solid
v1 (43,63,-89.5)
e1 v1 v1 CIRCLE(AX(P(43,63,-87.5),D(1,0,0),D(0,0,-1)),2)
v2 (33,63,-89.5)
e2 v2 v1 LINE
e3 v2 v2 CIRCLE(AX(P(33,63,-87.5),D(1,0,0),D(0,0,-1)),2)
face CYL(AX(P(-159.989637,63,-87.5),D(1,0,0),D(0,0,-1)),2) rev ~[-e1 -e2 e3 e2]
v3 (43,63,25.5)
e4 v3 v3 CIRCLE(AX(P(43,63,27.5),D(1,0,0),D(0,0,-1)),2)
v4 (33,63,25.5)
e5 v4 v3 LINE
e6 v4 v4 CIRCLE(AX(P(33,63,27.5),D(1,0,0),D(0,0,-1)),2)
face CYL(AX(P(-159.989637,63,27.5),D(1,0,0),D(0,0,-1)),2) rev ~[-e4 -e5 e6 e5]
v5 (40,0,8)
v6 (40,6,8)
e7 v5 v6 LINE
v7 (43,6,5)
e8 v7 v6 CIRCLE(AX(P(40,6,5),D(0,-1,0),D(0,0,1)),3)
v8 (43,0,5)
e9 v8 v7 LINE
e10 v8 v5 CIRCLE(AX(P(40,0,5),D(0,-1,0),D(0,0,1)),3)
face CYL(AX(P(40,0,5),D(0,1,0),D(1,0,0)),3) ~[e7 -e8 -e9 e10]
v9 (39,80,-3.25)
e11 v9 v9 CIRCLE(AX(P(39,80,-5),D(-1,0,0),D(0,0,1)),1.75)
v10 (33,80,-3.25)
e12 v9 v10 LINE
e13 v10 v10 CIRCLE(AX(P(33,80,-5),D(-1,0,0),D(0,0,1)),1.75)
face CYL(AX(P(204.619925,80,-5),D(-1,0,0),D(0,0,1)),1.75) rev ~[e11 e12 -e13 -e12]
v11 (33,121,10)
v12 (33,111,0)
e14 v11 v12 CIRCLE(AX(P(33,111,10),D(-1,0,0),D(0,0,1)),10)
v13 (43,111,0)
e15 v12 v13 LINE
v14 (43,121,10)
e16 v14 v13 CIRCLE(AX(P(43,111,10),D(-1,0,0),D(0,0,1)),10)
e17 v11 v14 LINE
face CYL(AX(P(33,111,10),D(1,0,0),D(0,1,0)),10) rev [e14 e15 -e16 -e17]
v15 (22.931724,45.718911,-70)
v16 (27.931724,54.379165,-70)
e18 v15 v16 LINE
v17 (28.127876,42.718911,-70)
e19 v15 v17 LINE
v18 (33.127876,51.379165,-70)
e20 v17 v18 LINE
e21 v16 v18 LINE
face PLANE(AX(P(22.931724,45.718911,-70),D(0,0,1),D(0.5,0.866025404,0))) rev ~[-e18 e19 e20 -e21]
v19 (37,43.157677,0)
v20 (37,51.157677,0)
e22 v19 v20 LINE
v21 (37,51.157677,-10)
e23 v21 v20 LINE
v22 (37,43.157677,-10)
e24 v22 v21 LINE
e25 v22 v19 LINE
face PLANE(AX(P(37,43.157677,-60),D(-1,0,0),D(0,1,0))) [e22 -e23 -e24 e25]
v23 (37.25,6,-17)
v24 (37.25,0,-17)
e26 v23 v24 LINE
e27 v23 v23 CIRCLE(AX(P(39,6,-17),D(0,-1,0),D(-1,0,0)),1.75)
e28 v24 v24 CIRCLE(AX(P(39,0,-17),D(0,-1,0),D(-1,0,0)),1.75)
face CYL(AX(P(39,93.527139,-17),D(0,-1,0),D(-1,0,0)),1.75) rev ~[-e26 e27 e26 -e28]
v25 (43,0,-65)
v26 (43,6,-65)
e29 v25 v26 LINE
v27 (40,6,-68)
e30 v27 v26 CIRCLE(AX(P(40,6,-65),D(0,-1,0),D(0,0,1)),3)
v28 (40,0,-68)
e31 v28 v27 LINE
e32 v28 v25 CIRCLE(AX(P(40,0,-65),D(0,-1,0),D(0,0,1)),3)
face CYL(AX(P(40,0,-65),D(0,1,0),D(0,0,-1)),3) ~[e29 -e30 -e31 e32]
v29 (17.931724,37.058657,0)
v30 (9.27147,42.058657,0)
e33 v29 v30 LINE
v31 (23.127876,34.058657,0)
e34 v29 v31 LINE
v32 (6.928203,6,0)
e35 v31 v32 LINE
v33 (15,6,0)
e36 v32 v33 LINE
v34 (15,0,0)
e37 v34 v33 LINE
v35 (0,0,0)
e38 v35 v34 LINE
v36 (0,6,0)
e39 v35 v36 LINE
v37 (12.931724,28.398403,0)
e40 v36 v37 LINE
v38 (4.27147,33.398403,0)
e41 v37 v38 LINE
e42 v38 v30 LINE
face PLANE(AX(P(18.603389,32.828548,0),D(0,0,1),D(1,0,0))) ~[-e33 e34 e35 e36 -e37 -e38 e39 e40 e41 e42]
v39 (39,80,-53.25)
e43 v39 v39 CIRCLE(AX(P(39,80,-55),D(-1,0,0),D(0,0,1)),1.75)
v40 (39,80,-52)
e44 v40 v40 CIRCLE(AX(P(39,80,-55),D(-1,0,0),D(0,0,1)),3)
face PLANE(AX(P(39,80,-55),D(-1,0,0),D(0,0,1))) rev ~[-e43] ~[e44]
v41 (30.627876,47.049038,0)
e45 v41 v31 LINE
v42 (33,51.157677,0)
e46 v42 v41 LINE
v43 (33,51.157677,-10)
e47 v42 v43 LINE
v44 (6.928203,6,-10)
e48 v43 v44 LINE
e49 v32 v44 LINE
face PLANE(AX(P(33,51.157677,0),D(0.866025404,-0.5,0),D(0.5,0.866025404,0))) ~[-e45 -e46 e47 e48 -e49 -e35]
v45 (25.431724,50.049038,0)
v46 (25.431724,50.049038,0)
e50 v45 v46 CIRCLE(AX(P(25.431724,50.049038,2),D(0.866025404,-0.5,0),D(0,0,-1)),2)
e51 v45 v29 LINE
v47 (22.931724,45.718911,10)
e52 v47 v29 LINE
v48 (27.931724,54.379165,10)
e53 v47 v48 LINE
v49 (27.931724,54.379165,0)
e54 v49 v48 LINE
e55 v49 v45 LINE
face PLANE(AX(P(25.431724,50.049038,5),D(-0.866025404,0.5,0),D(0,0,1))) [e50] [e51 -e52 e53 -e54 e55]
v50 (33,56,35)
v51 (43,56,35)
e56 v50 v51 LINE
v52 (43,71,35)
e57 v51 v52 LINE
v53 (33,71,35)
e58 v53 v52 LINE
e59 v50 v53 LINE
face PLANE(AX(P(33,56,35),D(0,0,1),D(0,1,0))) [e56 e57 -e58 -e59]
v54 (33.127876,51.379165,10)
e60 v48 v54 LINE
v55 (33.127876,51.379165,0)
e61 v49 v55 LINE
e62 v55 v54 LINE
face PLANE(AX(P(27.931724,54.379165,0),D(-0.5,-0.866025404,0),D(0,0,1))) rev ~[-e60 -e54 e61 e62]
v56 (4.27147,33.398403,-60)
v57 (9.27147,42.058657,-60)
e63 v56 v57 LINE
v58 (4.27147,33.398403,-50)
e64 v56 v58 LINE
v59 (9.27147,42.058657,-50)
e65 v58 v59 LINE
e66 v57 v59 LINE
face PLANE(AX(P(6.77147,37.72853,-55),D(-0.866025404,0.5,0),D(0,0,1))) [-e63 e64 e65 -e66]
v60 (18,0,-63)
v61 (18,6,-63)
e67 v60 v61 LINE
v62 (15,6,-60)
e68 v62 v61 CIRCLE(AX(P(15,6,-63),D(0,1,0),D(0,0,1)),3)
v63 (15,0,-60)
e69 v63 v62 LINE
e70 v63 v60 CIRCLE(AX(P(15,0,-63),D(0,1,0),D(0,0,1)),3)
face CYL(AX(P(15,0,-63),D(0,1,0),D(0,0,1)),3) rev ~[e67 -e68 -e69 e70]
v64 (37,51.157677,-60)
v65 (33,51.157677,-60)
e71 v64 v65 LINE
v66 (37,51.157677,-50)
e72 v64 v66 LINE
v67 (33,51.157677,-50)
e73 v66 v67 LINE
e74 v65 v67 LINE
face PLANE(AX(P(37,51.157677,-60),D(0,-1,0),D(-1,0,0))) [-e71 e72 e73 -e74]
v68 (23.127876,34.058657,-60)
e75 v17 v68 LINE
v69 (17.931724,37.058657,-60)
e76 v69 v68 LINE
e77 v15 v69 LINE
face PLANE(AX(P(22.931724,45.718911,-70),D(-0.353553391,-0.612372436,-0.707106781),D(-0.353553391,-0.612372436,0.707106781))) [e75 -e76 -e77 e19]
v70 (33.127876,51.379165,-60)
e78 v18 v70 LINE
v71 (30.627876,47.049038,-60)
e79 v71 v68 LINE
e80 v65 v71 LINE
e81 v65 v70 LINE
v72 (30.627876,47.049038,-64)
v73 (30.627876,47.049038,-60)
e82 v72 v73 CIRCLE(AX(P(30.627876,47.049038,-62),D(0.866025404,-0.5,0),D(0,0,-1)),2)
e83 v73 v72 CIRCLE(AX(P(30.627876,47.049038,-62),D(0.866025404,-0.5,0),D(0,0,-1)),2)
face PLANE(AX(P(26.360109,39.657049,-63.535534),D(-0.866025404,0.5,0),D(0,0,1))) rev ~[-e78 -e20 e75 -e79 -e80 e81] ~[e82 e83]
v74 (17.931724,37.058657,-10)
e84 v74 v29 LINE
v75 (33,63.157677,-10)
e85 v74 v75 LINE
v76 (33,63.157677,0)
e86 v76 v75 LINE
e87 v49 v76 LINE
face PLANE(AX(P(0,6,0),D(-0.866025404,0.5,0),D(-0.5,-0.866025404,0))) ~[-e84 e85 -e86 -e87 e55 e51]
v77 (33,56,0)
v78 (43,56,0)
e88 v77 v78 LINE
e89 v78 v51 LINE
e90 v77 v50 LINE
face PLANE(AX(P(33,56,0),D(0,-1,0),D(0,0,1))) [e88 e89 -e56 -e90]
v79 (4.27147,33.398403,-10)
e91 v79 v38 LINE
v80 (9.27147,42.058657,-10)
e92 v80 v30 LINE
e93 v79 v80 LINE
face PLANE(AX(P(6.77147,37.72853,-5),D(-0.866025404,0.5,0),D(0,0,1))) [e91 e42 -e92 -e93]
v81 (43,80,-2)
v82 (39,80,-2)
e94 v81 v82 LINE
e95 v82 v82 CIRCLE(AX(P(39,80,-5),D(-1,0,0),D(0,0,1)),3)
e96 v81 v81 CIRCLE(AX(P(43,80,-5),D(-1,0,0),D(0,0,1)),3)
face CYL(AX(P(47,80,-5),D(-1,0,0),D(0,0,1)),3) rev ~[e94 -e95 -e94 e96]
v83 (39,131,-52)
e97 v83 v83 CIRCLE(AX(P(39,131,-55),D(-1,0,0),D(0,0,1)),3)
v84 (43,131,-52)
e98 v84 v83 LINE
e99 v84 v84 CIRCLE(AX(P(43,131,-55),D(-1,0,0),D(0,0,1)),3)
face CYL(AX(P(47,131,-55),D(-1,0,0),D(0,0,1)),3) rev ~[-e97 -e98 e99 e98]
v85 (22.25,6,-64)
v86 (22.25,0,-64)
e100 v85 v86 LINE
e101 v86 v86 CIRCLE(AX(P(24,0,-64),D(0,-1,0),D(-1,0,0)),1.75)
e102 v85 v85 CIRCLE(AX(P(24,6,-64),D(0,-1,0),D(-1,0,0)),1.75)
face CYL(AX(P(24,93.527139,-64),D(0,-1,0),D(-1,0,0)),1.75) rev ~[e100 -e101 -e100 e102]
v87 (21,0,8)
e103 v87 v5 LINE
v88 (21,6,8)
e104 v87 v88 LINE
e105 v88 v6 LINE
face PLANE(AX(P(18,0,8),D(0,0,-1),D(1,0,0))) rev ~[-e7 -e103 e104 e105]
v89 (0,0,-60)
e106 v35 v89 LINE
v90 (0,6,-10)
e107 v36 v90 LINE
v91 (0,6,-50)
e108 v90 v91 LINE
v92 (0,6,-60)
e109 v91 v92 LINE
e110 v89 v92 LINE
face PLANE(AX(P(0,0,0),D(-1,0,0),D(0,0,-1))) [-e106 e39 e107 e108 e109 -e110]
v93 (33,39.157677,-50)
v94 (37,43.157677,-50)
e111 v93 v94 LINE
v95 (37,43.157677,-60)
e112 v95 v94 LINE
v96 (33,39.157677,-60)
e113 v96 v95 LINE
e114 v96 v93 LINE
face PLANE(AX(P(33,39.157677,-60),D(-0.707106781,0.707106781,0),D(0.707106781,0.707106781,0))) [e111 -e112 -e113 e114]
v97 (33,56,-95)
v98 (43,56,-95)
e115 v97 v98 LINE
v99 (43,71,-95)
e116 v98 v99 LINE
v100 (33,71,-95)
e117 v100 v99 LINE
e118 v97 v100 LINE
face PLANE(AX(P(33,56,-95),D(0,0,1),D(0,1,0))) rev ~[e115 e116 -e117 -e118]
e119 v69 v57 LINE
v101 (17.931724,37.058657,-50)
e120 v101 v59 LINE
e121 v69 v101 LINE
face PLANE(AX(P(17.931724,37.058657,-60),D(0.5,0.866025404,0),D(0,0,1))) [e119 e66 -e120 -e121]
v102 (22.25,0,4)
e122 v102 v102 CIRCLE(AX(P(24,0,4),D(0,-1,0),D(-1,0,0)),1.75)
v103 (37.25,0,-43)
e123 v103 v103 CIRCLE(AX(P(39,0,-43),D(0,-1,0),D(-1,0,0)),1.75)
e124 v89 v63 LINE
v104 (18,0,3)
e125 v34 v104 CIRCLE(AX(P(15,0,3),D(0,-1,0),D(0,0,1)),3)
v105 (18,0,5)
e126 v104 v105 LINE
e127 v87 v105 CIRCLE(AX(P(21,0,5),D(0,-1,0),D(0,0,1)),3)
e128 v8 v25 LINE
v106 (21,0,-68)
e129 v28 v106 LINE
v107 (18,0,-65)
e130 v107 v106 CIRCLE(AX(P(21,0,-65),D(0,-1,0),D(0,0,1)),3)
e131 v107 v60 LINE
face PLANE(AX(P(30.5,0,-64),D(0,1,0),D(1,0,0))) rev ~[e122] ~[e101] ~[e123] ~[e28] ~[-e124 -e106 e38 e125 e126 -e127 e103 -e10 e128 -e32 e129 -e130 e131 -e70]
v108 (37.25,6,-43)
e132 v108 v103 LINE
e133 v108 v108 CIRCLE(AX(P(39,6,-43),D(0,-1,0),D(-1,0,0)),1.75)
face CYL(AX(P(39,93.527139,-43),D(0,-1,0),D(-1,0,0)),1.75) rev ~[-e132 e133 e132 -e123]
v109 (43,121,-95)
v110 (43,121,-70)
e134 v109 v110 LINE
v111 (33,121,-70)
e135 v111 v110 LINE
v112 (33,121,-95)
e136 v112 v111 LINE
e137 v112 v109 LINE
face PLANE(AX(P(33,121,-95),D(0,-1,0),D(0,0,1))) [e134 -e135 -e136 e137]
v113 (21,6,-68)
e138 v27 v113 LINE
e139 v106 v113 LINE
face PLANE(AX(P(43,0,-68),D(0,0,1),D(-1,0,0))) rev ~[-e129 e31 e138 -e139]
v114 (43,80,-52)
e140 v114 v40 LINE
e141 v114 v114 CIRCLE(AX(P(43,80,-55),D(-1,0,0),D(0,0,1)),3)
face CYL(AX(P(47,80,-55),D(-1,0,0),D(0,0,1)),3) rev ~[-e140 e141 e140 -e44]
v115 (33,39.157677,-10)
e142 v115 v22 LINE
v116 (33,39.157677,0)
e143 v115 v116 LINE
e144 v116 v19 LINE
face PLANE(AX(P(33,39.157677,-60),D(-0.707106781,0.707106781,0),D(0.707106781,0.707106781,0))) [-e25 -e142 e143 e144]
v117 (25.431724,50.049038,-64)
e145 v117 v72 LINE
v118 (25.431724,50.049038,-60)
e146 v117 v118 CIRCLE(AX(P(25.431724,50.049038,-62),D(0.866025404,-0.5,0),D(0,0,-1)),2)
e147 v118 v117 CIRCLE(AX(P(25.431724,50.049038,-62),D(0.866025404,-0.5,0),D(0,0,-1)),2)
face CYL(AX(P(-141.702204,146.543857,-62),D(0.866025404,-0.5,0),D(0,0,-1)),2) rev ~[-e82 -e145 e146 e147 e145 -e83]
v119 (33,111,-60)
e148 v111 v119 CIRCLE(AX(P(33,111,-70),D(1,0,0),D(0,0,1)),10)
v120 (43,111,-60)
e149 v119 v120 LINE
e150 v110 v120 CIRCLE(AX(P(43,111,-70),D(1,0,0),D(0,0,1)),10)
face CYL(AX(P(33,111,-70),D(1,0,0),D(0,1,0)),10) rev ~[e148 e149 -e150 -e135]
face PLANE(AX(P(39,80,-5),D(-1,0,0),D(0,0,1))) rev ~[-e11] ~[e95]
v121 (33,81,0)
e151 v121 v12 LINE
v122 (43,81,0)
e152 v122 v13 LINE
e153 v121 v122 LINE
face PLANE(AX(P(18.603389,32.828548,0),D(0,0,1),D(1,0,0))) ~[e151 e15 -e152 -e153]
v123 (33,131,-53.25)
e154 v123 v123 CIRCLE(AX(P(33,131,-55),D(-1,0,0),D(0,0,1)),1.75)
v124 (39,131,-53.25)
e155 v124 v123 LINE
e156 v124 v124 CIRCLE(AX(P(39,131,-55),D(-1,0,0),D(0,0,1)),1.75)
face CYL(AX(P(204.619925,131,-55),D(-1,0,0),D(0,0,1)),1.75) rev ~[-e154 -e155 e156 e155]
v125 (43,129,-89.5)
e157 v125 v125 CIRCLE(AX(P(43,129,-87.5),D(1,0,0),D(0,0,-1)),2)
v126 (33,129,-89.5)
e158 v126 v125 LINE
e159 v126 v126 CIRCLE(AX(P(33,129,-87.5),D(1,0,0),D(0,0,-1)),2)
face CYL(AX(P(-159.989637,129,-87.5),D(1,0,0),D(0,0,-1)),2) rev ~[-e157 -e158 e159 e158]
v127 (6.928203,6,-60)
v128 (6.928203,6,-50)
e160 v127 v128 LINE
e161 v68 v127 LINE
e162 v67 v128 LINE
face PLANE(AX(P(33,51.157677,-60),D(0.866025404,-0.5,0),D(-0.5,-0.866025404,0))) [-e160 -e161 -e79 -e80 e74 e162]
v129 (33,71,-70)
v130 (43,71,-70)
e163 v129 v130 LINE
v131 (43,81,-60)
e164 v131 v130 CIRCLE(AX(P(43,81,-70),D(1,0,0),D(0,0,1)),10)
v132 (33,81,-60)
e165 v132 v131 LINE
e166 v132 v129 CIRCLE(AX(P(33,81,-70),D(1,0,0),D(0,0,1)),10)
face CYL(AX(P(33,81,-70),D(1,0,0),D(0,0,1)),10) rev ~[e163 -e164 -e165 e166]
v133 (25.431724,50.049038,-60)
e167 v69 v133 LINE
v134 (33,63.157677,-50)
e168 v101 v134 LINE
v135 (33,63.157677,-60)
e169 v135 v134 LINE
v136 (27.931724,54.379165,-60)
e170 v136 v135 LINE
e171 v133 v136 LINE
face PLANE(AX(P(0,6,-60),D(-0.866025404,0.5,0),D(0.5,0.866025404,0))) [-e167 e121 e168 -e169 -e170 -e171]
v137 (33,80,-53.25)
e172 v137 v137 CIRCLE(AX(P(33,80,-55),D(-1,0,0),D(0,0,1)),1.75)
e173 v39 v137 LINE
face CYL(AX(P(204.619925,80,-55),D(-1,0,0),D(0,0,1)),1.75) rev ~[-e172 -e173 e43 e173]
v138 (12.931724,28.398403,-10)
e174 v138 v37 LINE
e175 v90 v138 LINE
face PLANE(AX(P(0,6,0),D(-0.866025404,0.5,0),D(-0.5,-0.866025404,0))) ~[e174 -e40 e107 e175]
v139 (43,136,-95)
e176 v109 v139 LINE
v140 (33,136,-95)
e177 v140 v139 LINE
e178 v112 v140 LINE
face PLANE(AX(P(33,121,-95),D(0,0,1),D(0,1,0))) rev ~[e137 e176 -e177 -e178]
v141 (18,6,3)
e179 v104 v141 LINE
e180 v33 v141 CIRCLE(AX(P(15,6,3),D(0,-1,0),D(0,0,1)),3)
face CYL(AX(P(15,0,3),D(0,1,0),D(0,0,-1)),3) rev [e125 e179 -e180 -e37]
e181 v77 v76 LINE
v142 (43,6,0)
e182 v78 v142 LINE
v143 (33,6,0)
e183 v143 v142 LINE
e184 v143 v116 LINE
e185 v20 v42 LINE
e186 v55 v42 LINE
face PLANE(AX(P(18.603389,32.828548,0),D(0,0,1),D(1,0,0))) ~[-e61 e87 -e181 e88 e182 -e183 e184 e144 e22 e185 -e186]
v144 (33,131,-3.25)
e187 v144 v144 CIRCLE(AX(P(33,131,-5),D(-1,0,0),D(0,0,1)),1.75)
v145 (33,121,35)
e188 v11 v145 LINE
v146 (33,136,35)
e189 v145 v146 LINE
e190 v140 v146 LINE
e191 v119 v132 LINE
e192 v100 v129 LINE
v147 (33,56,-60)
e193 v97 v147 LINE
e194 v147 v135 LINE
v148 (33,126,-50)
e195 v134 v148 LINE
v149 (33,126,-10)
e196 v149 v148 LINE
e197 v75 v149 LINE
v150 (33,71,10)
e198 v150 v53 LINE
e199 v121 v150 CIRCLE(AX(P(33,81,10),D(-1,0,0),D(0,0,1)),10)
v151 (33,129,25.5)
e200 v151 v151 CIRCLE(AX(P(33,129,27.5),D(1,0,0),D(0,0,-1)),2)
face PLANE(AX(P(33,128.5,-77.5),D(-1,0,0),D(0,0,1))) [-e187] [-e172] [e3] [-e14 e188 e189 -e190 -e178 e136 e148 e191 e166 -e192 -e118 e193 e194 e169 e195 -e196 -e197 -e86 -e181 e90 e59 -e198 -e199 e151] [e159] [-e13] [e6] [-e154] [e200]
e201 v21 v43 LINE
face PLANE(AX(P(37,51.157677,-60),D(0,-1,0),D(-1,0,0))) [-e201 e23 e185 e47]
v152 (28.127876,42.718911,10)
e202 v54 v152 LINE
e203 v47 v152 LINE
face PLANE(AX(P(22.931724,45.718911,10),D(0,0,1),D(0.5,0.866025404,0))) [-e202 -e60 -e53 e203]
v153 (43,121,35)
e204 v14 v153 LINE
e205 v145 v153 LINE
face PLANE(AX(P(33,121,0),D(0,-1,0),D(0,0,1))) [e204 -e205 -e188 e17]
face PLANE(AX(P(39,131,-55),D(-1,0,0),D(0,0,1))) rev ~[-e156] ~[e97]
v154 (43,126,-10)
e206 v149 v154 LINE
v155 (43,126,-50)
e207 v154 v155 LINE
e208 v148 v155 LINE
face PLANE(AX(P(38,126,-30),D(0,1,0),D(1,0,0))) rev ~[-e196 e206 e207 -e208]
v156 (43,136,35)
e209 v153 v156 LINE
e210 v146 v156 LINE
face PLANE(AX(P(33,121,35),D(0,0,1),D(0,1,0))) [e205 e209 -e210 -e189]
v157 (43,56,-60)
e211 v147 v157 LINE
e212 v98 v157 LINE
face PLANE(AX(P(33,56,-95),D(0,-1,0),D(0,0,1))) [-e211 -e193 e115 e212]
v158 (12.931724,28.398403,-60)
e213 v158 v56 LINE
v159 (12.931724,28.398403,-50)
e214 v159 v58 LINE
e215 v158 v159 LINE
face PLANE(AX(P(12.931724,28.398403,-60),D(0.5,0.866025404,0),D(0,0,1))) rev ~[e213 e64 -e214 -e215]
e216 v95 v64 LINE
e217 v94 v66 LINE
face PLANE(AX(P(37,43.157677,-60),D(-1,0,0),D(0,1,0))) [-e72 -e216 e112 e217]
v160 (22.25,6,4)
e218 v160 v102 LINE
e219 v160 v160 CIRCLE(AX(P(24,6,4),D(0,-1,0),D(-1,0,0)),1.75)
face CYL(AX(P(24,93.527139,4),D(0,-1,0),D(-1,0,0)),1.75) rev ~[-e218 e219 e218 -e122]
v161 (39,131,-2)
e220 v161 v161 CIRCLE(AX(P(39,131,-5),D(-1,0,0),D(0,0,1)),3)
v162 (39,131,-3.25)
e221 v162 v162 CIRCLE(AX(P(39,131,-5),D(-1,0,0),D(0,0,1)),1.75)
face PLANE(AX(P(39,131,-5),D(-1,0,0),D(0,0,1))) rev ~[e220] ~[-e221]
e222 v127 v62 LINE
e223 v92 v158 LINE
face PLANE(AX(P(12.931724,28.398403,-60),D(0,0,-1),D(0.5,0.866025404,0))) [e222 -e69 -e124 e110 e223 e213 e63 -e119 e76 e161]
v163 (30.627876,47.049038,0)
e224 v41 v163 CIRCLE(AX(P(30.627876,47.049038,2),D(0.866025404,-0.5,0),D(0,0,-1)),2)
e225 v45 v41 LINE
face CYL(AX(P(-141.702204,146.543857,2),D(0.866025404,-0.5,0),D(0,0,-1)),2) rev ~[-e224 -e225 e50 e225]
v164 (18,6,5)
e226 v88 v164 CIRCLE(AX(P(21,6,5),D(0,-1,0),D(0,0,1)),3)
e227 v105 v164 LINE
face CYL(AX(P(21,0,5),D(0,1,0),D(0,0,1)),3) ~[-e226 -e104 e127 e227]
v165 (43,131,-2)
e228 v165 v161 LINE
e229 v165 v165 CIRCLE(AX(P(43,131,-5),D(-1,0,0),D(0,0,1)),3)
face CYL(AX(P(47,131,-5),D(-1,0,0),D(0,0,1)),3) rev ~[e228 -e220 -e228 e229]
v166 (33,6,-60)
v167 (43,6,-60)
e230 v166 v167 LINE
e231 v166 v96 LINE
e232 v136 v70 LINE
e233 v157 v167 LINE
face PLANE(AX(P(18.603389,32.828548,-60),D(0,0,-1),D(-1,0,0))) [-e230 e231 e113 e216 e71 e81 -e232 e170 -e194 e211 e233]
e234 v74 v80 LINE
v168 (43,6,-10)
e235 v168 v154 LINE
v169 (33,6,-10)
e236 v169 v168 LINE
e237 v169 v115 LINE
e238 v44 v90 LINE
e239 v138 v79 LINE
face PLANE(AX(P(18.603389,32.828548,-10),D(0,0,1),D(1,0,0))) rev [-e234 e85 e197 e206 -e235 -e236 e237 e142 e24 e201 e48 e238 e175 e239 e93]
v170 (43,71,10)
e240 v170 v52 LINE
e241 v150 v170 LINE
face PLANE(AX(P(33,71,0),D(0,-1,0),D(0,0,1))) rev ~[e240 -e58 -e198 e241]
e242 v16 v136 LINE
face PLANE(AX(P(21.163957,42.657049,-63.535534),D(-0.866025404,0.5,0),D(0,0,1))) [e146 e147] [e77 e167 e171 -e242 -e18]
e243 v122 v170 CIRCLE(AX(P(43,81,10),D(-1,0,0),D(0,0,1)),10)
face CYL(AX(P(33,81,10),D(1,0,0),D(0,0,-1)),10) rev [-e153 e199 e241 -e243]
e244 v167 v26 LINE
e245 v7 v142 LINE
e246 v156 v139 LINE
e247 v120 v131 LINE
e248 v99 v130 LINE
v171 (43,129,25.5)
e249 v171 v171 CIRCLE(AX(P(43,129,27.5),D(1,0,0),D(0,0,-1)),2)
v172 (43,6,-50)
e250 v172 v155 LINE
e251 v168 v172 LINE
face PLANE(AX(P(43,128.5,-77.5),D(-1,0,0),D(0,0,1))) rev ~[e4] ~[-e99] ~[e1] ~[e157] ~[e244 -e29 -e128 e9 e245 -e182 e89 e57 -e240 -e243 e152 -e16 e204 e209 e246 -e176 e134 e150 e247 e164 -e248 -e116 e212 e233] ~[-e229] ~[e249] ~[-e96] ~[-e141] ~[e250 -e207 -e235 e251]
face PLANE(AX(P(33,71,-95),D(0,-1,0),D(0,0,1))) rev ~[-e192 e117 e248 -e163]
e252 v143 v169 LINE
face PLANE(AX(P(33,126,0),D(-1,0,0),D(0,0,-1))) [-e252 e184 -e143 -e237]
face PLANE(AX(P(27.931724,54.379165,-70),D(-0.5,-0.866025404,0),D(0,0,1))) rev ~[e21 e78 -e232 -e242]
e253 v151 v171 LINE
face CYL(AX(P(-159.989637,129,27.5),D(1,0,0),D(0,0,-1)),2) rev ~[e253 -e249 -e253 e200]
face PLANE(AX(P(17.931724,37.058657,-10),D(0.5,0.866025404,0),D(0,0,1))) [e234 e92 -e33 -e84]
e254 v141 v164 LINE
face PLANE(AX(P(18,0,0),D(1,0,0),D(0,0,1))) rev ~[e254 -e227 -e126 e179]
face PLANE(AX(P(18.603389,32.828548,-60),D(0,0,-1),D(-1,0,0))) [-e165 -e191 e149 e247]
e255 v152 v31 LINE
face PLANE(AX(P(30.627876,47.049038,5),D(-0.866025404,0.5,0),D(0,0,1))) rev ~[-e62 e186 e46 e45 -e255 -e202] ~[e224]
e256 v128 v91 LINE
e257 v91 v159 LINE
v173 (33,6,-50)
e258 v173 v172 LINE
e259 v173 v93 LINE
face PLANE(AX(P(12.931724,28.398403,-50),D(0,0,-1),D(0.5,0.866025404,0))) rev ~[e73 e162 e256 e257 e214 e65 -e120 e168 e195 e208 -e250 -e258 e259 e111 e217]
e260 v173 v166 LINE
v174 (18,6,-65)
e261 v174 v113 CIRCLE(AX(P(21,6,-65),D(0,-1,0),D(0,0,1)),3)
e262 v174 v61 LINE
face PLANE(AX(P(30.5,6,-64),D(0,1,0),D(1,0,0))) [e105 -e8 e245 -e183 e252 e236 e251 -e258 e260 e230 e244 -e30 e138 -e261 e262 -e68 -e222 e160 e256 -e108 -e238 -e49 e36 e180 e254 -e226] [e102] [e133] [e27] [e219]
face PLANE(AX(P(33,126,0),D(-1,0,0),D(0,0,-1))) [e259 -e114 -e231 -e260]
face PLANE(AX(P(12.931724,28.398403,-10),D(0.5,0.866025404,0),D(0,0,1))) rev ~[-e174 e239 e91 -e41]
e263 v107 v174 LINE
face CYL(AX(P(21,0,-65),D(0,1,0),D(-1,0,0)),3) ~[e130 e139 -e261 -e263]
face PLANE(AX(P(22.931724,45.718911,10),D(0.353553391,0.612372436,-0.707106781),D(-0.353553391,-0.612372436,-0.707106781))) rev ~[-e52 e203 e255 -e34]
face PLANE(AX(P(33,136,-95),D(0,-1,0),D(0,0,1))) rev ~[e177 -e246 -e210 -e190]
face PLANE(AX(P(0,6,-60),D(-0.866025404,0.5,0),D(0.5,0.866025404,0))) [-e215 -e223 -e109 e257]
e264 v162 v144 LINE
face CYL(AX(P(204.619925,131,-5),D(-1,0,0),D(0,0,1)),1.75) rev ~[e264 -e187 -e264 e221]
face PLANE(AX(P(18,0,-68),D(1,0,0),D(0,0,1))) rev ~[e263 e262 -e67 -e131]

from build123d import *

# Parameters (mm, degrees)
SKETCH_1_W          = 35
SKETCH_1_H          = 60
SKETCH_1_W_2        = 8
EXTRUDE_1_DEPTH     = 6
HOLE_WIZARD_1_D     = 3.5
FILLET_1_R          = 3
SKETCH_5_W          = 10
SKETCH_5_H          = 10
EXTRUDE_2_DEPTH     = 120
SKETCH_10_W         = 10
SKETCH_10_H         = 60
EXTRUDE_5_DEPTH     = 10
HOLE_WIZARD_2_D     = 3.5
HOLE_WIZARD_3_D     = 6
HOLE_WIZARD_3_DEPTH = 4
EXTRUDE_6_DEPTH     = 10
SKETCH_18_W         = 35
SKETCH_18_H         = 15
EXTRUDE_7_DEPTH     = 10
HOLE_WIZARD_4_D     = 4
FILLET_2_R          = 10
FILLET_3_R          = 3
SKETCH_21_W         = 10
SKETCH_21_H         = 10
EXTRUDE_8_DEPTH     = 6
HOLE_WIZARD_5_D     = 4
SKETCH_25_W         = 10
SKETCH_25_H         = 10
EXTRUDE_9_DEPTH     = 10
SKETCH_28_W         = 4
SKETCH_28_H         = 8
CUT_EXTRUDE_1_DEPTH = 172.37677789
CUT_EXTRUDE_2_DEPTH = 172.37677789


with BuildPart() as part:
    # 草图1 → 凸台-拉伸1 (new body)
    with BuildSketch(Plane(origin=(0, 0, 0), x_dir=(1, 0, 0), z_dir=(0, 1, 0))):
        Polygon((18, 68), (18, 60), (35, 60), (43, 60), (43, 68), align=None)
        with Locations((17.5, 30)):
            Rectangle(SKETCH_1_W, SKETCH_1_H)
        with Locations((39, 30)):
            Rectangle(SKETCH_1_W_2, SKETCH_1_H)
        Polygon((35, 0), (18, 0), (18, -8), (43, -8), (43, 0), align=None)
    extrude(amount=EXTRUDE_1_DEPTH)

    # 孔1 (through all)
    with Locations(Plane(origin=(0, 6, 0), x_dir=(1, 0, 0), z_dir=(0, 1, 0))):
        with Locations((24, 64), (39, 43), (39, 17), (24, -4)):
            Hole(HOLE_WIZARD_1_D / 2)

    # 圆角1
    fillet_1_edges = [part.edges().sort_by_distance(p)[0] for p in [
        (18, 3, 8),
        (18, 3, 0),
        (18, 3, -68),
        (43, 3, -68),
        (43, 3, 8),
    ]]
    fillet(fillet_1_edges, radius=FILLET_1_R)

    # 草图5 → 凸台-拉伸2 (add)
    with BuildSketch(Plane(origin=(0, 6, 0), x_dir=(1, 0, 0), z_dir=(0, 1, 0))):
        with Locations((38, 55)):
            Rectangle(SKETCH_5_W, SKETCH_5_H)
        with Locations((38, 5)):
            Rectangle(SKETCH_5_W, SKETCH_5_H)
    extrude(amount=EXTRUDE_2_DEPTH)

    # 草图10 → 凸台-拉伸5 (add)
    with BuildSketch(Plane(origin=(0, 126, 0), x_dir=(1, 0, 0), z_dir=(0, 1, 0))):
        with Locations((38, 30)):
            Rectangle(SKETCH_10_W, SKETCH_10_H)
    extrude(amount=EXTRUDE_5_DEPTH)

    # 孔2 (through all)
    with Locations(Plane(origin=(43, 0, 0), x_dir=(0, 0, -1), z_dir=(1, 0, 0))):
        with Locations((5, 131), (55, 131), (55, 80), (5, 80)):
            Hole(HOLE_WIZARD_2_D / 2)

    # 孔3
    with Locations(Plane(origin=(43, 0, 0), x_dir=(0, 0, -1), z_dir=(1, 0, 0))):
        with Locations((5, 131), (5, 80), (55, 80), (55, 131)):
            Hole(HOLE_WIZARD_3_D / 2, depth=HOLE_WIZARD_3_DEPTH)

    # 草图16 → 凸台-拉伸6 (add)
    with BuildSketch(Plane(origin=(0, 0, -60), x_dir=(-1, 0, 0), z_dir=(0, 0, -1))):
        Polygon((-33, 51.15767665), (-6.92820323, 6), (0, 6), (-33, 63.15767665), align=None)
    extrude_6 = extrude(amount=-EXTRUDE_6_DEPTH)

    # 镜向1: 凸台-拉伸6 across plane
    add(extrude_6.mirror(Plane.XY.offset(-30)))

    # 草图18 → 凸台-拉伸7 (add)
    with BuildSketch(Plane.ZY.offset(-33)):
        with Locations((-77.5, 128.5)):
            Rectangle(SKETCH_18_W, SKETCH_18_H)
        with Locations((17.5, 128.5)):
            Rectangle(SKETCH_18_W, SKETCH_18_H)
        with Locations((-77.5, 63.5)):
            Rectangle(SKETCH_18_W, SKETCH_18_H)
        with Locations((17.5, 63.5)):
            Rectangle(SKETCH_18_W, SKETCH_18_H)
    extrude(amount=-EXTRUDE_7_DEPTH)

    # 孔4 (through all)
    with Locations(Plane.ZY.offset(-33)):
        with Locations((-87.5, 129), (27.5, 129), (27.5, 63), (-87.5, 63)):
            Hole(HOLE_WIZARD_4_D / 2)

    # 圆角2
    fillet_2_edges = [part.edges().sort_by_distance(p)[0] for p in [
        (38, 121, -60),
        (38, 121, 0),
        (38, 71, -60),
        (38, 71, 0),
    ]]
    fillet(fillet_2_edges, radius=FILLET_2_R)

    # 圆角3
    fillet_3_edges = [part.edges().sort_by_distance(p)[0] for p in [
        (18, 3, -60),
    ]]
    fillet(fillet_3_edges, radius=FILLET_3_R)

    # 草图21 → 凸台-拉伸8 (add)
    with BuildSketch(Plane(origin=(-2.598076211, 1.5, 0), x_dir=(0, 0, 1), z_dir=(-0.8660254037844363, 0.5000000000000042, 0))):
        Polygon((-60, 51.059600438), (-70, 51.059600438), (-60, 41.059600438), align=None)
        with Locations((-65, 56.059600438)):
            Rectangle(SKETCH_21_W, SKETCH_21_H)
        with Locations((5, 56.059600438)):
            Rectangle(SKETCH_21_W, SKETCH_21_H)
        Polygon((0, 51.059600438), (10, 51.059600438), (0, 41.059600438), align=None)
    extrude(amount=-EXTRUDE_8_DEPTH)

    # 孔5 (through all)
    with Locations(Plane(origin=(-2.598076211, 1.5, 0), x_dir=(0, 0, 1), z_dir=(-0.8660254037844363, 0.5000000000000042, 0))):
        with Locations((-62, 56.059600438), (2, 56.059600438)):
            Hole(HOLE_WIZARD_5_D / 2)

    # 草图25 → 凸台-拉伸9 (add)
    with BuildSketch(Plane(origin=(-2.598076211, 1.5, 0), x_dir=(0, 0, 1), z_dir=(-0.8660254037844363, 0.5000000000000042, 0))):
        with Locations((-55, 36.059600438)):
            Rectangle(SKETCH_25_W, SKETCH_25_H)
        with Locations((-5, 36.059600438)):
            Rectangle(SKETCH_25_W, SKETCH_25_H)
    extrude(amount=EXTRUDE_9_DEPTH)

    # 草图28 → 切除-拉伸1 (cut, through all)
    with BuildSketch(Plane(origin=(0, 0, -60), x_dir=(-1, 0, 0), z_dir=(0, 0, -1))):
        with Locations((-35, 47.15767665)):
            Rectangle(SKETCH_28_W, SKETCH_28_H)
    extrude(amount=-CUT_EXTRUDE_1_DEPTH, mode=Mode.SUBTRACT)

    # 草图29 → 切除-拉伸2 (cut, through all)
    with BuildSketch(Plane(origin=(0, 0, -60), x_dir=(-1, 0, 0), z_dir=(0, 0, -1))):
        Polygon((-37, 43.15767665), (-33, 43.15767665), (-33, 39.15767665), align=None)
    extrude(amount=-CUT_EXTRUDE_2_DEPTH, mode=Mode.SUBTRACT)


solid = part.part
